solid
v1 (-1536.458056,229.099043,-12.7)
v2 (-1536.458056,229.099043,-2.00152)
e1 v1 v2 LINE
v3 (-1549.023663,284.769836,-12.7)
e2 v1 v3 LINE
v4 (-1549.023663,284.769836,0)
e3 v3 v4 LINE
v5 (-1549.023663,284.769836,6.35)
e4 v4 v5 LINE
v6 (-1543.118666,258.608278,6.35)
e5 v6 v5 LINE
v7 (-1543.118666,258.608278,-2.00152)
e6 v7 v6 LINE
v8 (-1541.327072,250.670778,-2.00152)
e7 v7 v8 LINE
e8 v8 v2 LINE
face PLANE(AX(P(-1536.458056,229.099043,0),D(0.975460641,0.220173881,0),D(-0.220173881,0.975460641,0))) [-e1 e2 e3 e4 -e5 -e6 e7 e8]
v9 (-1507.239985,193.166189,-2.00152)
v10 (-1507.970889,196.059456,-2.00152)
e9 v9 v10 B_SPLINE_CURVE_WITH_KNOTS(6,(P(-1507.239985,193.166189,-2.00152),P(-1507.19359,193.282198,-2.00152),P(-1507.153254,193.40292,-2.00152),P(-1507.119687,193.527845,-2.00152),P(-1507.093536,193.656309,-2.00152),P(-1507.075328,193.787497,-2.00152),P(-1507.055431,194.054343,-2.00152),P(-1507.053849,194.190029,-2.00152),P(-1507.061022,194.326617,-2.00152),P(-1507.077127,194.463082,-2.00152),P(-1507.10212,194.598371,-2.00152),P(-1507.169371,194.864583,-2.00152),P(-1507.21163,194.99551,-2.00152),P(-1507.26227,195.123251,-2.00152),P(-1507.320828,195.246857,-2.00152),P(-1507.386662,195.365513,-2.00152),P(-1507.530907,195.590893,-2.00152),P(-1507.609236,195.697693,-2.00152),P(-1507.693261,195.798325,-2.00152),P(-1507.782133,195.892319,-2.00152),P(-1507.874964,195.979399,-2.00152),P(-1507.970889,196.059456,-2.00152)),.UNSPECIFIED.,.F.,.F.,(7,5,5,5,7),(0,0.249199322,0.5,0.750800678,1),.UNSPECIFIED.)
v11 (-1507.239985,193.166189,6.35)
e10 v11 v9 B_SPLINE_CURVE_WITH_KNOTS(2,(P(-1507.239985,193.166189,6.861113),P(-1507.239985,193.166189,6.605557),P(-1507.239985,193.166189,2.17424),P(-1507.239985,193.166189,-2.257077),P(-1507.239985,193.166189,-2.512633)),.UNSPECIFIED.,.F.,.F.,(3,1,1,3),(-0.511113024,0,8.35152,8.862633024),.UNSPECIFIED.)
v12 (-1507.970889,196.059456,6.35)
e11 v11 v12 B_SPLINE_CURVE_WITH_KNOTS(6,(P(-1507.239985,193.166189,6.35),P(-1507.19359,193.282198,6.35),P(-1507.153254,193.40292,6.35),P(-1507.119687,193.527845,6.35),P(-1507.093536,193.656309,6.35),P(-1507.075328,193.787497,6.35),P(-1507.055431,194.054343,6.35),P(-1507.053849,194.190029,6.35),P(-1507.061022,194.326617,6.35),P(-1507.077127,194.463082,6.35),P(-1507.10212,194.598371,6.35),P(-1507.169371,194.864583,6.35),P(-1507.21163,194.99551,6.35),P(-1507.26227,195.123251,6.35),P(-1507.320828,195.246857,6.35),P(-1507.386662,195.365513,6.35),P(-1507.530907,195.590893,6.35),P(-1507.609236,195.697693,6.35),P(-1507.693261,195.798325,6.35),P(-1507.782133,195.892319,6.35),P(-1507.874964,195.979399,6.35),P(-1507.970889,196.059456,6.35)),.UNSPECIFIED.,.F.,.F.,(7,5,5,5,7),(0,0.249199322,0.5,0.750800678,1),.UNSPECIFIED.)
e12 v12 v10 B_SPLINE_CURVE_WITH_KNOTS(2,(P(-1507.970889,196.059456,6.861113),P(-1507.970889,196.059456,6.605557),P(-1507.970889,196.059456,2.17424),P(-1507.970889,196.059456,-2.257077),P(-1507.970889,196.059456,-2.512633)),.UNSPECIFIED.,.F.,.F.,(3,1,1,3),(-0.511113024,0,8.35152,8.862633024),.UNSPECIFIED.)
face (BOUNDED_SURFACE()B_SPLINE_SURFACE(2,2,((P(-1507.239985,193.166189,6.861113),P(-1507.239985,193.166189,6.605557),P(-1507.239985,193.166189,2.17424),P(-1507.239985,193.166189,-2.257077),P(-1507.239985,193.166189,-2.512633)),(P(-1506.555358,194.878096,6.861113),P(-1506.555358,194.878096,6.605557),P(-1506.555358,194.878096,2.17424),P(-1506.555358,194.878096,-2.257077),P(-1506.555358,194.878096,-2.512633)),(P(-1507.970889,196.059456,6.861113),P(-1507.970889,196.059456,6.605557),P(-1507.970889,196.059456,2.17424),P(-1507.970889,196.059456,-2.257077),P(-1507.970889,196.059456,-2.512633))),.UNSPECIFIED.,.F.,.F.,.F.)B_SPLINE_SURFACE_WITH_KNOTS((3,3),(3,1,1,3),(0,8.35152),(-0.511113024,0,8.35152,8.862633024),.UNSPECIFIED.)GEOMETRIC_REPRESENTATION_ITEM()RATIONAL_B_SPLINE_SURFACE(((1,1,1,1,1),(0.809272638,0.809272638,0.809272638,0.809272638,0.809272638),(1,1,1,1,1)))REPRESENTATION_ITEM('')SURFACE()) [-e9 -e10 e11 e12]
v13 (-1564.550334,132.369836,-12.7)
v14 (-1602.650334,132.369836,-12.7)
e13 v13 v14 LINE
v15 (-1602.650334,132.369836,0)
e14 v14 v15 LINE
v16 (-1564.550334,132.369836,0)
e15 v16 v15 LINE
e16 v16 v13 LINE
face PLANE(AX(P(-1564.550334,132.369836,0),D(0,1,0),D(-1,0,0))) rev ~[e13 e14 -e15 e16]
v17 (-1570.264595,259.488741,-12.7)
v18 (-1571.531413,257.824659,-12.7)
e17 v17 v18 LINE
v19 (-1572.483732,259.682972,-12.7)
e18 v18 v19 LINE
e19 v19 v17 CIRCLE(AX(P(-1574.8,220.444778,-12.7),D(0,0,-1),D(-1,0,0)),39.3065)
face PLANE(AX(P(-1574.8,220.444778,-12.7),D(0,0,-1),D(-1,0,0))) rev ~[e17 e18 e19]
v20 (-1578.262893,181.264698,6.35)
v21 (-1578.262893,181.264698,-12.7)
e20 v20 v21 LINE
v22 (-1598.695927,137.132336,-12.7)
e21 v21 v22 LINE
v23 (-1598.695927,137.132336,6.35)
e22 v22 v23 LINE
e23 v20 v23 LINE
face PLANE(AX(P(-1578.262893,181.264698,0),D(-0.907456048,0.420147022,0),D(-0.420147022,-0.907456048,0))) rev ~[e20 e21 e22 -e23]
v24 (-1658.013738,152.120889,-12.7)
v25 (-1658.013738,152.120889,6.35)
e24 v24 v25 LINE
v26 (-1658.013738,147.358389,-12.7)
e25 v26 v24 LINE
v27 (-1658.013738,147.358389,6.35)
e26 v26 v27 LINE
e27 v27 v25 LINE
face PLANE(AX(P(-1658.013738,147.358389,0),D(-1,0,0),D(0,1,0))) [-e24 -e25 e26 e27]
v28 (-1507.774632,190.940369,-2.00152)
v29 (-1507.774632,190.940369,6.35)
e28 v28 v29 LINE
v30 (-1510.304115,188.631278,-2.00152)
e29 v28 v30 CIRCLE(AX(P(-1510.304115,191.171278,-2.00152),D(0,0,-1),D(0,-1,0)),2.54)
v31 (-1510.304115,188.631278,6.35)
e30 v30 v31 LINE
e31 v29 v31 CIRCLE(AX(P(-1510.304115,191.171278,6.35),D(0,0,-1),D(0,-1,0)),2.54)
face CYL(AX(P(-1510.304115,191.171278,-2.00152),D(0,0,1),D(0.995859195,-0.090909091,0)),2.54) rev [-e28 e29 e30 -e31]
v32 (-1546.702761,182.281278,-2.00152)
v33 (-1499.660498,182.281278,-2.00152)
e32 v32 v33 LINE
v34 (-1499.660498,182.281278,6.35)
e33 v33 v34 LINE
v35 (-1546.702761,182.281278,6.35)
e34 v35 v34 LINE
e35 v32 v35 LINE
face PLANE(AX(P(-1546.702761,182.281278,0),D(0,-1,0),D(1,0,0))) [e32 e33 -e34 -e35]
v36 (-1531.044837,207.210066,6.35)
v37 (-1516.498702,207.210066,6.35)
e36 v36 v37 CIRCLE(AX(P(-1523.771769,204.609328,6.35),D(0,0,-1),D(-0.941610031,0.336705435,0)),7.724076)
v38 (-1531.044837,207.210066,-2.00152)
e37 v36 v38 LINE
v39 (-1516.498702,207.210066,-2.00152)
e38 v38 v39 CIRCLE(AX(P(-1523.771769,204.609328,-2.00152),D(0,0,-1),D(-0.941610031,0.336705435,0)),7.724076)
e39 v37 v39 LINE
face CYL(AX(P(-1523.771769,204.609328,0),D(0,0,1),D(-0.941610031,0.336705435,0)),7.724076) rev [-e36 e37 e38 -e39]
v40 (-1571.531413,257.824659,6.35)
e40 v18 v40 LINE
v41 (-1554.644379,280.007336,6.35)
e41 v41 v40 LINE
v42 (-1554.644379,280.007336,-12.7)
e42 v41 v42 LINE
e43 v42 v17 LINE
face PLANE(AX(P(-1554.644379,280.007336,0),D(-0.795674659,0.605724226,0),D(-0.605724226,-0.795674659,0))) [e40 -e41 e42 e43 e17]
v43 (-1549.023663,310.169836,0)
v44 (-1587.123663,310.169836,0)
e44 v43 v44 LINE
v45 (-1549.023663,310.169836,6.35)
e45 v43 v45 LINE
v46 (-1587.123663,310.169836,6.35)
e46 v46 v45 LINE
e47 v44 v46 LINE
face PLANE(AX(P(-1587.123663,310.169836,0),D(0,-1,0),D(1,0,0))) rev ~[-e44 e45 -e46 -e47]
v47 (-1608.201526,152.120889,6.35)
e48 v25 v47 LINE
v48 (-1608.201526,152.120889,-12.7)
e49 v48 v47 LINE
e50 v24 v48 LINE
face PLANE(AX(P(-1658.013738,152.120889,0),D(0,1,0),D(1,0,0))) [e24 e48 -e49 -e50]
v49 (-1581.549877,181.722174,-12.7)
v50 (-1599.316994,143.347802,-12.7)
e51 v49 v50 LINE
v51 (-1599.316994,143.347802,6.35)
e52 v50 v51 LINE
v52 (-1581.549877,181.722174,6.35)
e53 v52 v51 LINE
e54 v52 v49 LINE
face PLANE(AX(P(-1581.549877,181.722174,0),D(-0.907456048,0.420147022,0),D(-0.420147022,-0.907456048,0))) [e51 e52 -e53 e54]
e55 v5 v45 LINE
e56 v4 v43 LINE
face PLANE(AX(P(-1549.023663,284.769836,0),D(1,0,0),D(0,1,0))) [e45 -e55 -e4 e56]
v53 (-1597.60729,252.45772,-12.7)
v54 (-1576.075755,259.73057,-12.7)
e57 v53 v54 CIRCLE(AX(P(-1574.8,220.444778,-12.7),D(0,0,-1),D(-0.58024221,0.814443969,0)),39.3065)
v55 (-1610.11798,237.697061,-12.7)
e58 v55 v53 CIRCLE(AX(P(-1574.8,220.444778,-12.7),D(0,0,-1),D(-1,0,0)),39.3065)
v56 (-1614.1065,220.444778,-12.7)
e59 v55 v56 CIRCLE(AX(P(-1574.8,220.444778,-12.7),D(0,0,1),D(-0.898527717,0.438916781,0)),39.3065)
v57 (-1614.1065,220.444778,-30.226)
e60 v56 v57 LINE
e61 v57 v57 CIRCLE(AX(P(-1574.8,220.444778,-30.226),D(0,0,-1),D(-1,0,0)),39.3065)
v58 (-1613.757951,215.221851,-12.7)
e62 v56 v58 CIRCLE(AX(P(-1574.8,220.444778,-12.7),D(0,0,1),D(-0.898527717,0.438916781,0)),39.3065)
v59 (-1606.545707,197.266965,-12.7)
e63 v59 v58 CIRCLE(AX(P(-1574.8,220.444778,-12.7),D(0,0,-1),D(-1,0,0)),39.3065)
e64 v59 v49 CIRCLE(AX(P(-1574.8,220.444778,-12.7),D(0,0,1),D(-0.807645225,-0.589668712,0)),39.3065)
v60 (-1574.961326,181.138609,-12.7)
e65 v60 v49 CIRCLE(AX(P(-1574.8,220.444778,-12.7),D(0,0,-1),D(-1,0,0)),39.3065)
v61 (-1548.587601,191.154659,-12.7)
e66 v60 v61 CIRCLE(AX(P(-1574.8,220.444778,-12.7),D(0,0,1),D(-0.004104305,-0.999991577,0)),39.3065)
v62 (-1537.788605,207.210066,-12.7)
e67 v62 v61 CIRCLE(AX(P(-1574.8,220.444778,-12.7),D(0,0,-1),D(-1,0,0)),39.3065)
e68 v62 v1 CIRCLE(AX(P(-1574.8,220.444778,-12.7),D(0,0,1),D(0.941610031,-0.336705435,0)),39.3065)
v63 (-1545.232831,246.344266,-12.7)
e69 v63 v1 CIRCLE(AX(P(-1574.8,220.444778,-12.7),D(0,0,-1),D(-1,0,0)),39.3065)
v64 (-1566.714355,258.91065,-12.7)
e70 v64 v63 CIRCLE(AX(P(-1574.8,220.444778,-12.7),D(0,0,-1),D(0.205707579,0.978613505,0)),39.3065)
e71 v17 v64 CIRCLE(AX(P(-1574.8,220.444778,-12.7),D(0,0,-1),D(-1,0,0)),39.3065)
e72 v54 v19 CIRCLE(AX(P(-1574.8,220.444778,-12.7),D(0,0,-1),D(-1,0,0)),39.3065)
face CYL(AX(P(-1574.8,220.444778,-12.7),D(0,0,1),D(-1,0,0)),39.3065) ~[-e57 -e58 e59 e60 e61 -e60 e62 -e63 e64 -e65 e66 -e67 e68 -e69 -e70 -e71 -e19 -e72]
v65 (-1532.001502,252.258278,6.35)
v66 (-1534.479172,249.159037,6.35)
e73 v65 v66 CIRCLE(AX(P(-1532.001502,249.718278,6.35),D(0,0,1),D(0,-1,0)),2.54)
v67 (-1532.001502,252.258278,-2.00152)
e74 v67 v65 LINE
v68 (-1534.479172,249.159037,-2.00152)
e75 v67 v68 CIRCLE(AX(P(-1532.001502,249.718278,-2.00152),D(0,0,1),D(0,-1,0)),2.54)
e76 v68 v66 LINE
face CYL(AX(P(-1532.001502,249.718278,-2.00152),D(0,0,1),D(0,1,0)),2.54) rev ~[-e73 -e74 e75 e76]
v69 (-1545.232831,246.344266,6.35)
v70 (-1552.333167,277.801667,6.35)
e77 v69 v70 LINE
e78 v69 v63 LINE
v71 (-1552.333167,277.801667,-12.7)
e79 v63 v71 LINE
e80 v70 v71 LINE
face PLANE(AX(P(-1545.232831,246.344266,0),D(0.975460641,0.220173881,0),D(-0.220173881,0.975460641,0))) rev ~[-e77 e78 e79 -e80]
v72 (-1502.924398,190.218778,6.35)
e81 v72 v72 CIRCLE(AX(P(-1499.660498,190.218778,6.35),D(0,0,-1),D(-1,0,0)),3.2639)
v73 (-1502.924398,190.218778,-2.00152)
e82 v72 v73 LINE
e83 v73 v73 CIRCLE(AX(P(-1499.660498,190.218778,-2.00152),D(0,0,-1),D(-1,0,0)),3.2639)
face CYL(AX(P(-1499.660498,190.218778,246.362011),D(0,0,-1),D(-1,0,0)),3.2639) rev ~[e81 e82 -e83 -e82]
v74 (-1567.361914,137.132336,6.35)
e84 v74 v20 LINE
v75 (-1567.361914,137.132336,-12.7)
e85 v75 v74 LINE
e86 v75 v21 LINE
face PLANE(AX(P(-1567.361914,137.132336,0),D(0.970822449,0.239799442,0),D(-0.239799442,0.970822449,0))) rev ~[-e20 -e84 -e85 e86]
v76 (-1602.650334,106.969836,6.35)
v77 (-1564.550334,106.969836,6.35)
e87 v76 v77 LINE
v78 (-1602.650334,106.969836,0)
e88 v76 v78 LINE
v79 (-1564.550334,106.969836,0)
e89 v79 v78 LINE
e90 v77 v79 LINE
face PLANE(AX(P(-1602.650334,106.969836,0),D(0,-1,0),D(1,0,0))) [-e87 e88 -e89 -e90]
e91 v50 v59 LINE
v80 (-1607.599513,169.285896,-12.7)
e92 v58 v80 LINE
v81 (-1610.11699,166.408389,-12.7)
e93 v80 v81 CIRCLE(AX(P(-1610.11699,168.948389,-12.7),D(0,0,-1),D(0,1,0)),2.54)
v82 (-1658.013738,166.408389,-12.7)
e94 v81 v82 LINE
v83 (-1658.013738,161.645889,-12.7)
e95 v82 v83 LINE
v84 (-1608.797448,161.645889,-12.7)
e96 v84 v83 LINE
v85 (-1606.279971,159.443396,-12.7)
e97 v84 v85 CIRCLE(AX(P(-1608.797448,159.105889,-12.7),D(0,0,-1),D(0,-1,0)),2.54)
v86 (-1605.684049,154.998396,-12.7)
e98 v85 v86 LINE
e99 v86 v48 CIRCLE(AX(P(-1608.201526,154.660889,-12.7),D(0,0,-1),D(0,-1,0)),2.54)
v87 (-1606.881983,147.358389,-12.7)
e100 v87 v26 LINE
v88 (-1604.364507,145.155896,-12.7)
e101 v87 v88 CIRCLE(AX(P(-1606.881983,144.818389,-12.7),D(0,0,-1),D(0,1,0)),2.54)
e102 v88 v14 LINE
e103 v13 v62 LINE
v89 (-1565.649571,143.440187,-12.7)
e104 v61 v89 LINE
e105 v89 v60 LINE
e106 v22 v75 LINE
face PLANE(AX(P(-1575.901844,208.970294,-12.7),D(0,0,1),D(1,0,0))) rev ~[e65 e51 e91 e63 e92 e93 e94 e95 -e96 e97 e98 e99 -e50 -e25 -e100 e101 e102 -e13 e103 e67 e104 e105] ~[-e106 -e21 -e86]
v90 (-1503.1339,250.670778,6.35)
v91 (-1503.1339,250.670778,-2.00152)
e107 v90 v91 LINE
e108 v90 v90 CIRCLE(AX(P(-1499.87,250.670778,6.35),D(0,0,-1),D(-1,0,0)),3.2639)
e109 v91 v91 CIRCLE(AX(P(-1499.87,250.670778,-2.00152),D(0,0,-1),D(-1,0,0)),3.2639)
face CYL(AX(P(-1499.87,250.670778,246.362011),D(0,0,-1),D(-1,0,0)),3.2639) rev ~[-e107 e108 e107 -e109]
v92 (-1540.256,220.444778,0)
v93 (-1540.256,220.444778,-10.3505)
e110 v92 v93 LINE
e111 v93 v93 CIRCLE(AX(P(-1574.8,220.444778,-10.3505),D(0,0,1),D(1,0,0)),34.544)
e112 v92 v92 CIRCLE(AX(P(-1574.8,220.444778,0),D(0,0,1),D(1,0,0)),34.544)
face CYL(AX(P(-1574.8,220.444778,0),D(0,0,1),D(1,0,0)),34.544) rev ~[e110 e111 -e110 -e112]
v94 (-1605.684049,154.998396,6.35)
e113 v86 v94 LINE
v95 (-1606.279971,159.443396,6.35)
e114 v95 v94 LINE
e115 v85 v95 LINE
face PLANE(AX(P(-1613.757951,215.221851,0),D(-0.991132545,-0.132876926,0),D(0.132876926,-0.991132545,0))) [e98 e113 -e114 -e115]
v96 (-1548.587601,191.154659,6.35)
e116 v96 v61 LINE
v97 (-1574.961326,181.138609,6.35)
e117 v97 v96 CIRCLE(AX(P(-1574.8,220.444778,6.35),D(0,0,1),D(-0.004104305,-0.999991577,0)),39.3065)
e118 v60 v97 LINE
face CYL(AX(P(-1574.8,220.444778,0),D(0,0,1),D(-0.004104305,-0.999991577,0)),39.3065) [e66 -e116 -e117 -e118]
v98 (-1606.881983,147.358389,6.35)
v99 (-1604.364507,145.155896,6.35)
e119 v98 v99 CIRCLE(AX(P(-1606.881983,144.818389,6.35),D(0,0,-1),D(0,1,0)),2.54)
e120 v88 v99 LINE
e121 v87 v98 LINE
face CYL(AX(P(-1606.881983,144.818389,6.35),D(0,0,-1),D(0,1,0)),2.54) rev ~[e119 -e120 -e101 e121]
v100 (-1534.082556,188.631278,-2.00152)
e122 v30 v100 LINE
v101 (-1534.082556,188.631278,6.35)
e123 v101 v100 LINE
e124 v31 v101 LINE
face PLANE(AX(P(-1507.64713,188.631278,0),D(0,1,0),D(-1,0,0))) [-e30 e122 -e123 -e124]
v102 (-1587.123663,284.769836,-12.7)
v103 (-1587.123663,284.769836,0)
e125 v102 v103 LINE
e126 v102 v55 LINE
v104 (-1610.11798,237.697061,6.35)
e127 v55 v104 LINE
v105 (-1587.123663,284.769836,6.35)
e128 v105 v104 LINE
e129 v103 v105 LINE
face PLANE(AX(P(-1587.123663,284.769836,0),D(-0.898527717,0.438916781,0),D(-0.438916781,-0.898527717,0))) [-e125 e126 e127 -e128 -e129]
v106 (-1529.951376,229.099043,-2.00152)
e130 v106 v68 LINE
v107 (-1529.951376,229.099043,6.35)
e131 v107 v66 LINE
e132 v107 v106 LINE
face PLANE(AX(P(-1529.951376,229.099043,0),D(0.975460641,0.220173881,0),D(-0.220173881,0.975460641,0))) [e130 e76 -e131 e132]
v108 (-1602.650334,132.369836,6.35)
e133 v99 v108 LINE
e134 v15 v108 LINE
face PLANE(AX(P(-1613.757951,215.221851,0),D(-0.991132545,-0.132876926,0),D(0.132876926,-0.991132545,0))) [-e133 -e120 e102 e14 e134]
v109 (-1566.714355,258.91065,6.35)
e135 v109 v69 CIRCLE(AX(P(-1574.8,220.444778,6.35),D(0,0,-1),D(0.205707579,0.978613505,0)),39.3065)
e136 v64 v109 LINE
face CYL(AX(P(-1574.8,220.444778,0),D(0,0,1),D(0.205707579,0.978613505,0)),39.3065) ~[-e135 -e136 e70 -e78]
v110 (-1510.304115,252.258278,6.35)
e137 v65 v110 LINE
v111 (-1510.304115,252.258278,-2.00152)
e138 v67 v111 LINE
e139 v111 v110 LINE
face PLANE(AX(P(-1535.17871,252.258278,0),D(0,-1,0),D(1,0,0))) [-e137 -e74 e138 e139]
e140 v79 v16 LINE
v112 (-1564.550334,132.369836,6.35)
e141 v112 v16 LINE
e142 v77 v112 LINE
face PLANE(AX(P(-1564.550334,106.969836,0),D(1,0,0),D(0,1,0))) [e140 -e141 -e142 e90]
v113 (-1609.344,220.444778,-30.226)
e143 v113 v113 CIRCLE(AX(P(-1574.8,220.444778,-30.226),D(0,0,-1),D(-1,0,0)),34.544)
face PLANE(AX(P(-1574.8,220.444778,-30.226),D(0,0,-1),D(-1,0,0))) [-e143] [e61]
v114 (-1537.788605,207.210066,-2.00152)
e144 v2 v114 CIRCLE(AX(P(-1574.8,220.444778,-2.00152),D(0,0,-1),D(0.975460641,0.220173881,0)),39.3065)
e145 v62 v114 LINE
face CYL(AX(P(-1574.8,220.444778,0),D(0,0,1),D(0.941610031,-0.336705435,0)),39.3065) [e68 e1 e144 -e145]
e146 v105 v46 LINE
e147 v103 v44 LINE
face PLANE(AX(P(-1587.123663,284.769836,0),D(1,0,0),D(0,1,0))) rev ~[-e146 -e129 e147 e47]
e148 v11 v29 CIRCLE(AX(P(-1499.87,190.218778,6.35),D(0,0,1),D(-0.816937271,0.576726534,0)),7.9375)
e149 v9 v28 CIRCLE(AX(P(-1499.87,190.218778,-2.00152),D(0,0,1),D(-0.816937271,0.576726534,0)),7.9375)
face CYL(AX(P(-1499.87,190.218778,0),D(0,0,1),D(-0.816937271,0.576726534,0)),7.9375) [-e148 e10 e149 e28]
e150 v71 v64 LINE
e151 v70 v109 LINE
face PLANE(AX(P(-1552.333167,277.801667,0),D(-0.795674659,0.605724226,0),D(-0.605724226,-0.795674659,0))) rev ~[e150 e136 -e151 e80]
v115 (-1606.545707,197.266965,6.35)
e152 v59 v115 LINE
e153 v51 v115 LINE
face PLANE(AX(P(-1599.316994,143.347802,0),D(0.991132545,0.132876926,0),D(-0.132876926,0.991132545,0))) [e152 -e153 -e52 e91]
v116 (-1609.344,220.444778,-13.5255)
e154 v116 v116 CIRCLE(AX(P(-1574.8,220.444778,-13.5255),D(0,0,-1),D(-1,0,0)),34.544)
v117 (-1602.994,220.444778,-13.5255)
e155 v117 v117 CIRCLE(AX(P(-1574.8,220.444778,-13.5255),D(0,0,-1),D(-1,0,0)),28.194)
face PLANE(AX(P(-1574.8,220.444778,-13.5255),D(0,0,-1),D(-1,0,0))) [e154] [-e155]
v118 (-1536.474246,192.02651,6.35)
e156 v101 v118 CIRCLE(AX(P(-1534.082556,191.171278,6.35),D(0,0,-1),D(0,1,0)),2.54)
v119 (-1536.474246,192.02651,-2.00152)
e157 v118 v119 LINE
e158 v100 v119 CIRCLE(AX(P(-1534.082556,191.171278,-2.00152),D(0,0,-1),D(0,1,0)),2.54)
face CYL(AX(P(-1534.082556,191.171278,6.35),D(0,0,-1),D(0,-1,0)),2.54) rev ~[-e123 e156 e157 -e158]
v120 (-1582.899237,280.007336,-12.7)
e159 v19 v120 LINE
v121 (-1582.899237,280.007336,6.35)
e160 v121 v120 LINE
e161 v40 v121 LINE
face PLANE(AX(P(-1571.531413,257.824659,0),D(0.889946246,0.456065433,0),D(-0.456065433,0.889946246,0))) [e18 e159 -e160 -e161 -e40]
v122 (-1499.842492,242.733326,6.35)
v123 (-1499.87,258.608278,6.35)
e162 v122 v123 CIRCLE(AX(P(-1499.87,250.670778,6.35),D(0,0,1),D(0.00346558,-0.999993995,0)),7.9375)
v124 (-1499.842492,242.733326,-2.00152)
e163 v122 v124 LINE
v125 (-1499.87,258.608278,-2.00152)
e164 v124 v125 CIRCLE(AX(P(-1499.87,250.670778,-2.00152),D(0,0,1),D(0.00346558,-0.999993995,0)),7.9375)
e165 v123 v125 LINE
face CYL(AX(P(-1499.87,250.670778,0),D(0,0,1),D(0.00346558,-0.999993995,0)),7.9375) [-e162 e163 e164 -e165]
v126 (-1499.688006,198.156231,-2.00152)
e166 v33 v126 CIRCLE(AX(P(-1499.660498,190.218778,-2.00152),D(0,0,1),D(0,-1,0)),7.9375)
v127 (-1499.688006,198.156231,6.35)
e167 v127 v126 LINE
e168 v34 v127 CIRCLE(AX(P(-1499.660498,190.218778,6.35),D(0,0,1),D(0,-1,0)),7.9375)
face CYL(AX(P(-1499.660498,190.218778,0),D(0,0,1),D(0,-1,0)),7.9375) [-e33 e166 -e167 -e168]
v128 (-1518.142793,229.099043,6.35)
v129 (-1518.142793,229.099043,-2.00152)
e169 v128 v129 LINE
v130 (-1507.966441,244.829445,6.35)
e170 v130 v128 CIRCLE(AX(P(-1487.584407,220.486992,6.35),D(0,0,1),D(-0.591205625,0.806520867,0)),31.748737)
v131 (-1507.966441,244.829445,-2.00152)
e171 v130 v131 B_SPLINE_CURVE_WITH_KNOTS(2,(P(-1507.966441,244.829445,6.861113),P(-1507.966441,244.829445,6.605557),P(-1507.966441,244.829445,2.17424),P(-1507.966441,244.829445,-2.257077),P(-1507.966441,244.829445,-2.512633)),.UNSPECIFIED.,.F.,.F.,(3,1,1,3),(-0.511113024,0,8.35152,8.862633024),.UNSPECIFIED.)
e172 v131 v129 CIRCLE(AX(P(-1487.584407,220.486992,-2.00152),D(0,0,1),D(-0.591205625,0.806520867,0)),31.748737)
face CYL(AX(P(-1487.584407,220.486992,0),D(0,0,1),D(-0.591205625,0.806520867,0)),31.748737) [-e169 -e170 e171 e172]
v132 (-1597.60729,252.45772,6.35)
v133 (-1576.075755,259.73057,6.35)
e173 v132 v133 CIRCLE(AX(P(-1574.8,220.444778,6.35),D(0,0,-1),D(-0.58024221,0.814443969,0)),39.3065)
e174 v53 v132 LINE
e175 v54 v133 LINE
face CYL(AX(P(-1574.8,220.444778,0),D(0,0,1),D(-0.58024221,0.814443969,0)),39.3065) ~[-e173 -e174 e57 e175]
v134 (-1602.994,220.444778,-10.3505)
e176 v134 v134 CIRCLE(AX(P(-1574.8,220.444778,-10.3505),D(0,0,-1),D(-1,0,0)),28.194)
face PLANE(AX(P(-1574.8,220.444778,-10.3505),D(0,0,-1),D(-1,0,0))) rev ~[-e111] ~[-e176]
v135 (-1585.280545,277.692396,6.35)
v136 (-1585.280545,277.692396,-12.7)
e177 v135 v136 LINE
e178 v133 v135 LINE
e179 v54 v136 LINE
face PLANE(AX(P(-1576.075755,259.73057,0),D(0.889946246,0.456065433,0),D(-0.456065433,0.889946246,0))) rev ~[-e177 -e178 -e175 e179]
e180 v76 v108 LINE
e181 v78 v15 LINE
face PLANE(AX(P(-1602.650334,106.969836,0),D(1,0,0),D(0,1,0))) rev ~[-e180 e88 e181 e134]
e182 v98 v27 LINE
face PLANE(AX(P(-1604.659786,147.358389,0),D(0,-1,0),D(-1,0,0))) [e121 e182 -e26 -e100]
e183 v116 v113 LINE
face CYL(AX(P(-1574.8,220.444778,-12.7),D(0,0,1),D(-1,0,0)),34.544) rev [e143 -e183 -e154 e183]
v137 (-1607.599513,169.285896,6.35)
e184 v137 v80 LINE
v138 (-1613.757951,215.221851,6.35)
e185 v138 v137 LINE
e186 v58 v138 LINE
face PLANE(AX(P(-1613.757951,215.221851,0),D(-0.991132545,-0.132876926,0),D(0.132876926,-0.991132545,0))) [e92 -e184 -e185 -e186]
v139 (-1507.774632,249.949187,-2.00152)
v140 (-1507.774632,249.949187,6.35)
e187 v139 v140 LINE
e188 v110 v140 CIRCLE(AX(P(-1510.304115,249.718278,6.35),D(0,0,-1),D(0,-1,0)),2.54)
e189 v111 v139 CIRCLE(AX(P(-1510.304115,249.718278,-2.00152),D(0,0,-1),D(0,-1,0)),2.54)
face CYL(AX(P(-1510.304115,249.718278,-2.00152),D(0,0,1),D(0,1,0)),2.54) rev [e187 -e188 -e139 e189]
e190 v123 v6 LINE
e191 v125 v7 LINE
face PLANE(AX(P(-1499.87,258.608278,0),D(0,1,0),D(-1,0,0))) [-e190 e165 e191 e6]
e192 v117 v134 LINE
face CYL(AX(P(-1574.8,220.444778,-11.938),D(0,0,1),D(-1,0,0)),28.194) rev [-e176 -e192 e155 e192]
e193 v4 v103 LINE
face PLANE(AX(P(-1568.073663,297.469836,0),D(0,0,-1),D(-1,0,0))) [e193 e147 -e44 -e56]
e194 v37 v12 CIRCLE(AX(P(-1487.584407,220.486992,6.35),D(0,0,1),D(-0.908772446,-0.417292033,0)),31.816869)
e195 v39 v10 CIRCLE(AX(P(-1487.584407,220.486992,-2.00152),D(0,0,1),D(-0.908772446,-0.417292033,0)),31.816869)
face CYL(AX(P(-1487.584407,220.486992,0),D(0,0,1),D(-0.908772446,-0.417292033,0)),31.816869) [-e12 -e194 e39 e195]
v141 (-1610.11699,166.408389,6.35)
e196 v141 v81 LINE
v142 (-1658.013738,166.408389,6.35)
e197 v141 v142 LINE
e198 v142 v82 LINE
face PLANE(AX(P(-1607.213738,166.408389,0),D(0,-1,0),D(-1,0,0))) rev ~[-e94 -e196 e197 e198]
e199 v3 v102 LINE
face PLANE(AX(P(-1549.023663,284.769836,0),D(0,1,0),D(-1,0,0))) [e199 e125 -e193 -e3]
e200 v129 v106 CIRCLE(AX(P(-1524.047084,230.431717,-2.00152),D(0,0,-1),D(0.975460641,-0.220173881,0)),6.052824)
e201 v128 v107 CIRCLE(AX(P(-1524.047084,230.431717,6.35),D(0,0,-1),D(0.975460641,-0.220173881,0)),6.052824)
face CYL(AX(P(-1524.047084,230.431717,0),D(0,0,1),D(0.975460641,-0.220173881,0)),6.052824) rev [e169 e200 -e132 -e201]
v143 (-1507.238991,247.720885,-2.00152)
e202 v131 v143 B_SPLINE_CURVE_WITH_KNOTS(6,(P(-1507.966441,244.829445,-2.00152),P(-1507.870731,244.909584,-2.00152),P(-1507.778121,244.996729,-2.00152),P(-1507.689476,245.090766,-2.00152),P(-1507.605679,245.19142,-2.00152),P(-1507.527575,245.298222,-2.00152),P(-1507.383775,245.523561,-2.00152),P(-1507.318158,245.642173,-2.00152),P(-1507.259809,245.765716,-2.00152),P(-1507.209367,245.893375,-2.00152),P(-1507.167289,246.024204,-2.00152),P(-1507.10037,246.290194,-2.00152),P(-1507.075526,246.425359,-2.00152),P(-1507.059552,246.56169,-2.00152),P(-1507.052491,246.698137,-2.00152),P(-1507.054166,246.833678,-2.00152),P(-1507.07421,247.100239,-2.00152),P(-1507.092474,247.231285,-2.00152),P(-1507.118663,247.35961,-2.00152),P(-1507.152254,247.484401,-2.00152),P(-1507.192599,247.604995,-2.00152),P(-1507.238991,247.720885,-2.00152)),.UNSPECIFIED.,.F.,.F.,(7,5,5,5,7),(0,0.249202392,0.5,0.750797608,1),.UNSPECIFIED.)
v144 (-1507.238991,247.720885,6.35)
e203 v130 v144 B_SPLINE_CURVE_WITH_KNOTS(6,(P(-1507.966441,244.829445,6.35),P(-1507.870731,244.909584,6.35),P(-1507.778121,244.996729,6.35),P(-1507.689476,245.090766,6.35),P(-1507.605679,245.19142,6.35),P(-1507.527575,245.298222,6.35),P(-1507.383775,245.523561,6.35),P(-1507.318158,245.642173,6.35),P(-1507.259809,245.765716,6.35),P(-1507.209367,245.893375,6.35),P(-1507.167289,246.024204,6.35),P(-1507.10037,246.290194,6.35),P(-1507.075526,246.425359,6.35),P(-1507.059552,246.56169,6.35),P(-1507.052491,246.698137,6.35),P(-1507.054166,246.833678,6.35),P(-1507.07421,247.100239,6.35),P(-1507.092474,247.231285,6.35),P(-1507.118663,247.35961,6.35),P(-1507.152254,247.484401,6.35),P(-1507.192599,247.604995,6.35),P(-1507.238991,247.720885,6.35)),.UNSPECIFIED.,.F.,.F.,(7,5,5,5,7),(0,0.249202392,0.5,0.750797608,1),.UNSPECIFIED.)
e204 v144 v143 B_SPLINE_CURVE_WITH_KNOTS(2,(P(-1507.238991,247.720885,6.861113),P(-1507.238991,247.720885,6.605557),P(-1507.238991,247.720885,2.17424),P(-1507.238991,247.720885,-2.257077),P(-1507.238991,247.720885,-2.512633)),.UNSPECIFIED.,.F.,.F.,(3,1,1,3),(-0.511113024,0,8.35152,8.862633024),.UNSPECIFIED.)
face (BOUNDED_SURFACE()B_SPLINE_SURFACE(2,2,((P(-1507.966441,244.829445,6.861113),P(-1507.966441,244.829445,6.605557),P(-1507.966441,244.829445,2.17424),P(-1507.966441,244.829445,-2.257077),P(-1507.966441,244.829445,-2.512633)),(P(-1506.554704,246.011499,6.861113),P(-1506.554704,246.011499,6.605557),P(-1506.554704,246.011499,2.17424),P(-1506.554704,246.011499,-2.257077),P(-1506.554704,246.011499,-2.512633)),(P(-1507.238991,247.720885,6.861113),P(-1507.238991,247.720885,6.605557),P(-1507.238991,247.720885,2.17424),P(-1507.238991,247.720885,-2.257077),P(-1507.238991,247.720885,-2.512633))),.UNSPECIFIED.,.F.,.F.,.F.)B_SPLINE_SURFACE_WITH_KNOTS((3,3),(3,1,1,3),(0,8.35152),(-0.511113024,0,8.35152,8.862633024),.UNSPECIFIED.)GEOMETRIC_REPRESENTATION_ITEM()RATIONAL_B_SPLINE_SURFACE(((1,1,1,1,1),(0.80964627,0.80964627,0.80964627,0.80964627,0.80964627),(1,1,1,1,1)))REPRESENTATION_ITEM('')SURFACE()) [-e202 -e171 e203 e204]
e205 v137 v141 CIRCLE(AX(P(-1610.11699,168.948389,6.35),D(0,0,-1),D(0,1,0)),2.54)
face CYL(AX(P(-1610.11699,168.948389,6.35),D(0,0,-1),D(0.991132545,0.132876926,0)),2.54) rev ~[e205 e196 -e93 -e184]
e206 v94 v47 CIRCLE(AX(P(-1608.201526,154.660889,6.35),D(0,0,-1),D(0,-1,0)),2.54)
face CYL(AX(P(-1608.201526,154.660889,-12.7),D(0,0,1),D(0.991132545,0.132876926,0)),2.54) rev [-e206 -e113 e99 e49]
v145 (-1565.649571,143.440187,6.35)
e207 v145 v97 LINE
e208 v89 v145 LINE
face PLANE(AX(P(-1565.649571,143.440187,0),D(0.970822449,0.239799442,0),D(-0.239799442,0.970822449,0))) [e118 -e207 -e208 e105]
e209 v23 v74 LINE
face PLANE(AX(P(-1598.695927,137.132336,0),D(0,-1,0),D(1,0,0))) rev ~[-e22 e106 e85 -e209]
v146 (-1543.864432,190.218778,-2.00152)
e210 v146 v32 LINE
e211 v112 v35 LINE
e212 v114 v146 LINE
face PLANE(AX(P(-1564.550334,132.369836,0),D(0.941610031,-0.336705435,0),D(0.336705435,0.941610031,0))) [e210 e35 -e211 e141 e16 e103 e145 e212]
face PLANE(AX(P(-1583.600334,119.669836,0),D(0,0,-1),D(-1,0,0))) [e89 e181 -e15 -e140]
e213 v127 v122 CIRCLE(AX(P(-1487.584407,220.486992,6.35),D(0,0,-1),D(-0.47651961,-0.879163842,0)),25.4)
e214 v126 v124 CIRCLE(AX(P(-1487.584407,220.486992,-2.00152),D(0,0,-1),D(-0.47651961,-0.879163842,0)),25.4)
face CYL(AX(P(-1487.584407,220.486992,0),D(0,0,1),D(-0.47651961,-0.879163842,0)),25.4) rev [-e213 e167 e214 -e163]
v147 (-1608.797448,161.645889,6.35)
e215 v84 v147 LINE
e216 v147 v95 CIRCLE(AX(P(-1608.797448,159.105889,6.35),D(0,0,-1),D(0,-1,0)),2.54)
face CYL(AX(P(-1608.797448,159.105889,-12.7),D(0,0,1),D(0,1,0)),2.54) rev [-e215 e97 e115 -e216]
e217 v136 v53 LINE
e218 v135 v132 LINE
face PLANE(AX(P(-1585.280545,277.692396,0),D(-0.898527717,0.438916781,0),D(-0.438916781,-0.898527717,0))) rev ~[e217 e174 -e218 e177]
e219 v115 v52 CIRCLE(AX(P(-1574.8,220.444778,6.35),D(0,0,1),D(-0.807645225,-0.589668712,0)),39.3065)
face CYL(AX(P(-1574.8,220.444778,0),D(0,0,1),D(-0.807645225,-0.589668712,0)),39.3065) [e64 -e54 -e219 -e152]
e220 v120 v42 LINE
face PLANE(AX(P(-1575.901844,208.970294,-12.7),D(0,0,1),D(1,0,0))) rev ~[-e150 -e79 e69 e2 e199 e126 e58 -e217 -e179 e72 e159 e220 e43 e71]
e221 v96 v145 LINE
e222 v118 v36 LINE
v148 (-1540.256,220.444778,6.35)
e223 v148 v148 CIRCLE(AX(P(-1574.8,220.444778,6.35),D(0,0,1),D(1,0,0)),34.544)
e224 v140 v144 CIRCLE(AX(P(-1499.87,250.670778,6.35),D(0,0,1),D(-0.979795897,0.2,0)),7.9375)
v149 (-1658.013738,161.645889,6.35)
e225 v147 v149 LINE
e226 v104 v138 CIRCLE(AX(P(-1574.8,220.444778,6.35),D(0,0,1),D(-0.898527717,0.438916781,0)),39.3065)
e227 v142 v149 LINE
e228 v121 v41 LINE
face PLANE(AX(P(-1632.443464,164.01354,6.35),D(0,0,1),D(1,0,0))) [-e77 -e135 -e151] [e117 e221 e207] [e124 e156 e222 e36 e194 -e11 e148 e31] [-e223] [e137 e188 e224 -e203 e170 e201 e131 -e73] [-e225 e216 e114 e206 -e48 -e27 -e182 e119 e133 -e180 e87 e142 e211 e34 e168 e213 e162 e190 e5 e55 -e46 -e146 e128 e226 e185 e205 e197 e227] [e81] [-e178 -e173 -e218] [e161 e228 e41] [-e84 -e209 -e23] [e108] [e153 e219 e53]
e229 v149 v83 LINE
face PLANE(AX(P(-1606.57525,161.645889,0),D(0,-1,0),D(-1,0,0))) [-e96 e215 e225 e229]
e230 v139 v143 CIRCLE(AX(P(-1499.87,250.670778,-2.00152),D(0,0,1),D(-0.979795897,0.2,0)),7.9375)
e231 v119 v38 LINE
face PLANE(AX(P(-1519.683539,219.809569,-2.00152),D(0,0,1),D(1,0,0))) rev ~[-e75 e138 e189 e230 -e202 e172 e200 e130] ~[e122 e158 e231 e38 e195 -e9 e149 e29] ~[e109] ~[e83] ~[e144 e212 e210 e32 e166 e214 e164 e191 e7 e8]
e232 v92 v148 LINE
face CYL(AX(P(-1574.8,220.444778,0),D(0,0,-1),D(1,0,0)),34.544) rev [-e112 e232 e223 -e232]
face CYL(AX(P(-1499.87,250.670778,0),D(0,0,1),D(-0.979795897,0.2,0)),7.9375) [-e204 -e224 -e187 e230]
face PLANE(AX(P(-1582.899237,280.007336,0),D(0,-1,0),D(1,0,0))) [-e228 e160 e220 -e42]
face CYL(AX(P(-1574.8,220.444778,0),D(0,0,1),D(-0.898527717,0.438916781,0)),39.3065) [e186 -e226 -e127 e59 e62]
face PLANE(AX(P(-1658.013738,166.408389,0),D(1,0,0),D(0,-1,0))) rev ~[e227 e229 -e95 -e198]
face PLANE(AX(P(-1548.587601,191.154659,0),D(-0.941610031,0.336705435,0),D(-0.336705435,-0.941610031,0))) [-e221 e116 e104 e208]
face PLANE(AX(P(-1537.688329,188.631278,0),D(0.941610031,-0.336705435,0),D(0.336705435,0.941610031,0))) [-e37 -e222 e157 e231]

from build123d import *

# Parameters (mm, degrees)
SKETCH1_R                 = 34.544
SKETCH1_W                 = 38.1
SKETCH1_H                 = 25.4
BOSS_EXTRUDE1_DEPTH       = 6.35
BOSS_EXTRUDE1_DEPTH_BACK  = 12.7
CUT_EXTRUDE1_START        = -12.7
SKETCH2_W                 = 38.1
SKETCH2_H                 = 25.4
CUT_EXTRUDE1_DEPTH        = 12.7
SKETCH3_R                 = 39.3065
SKETCH3_R_2               = 34.544
BOSS_EXTRUDE3_DEPTH       = 17.526
SKETCH4_R                 = 34.544
SKETCH4_R_2               = 28.194
BOSS_EXTRUDE4_DEPTH       = 1.5875
BOSS_EXTRUDE10_DEPTH      = 6.35
BOSS_EXTRUDE10_DEPTH_BACK = 2.00152
F_5_16_18_TAPPED_HOLE6_D  = 6.5278
FILLET5_R                 = 2.54
FILLET6_R                 = 2.54
BOSS_EXTRUDE9_DEPTH       = 12.7
BOSS_EXTRUDE9_DEPTH_BACK  = 6.35
FILLET4_R                 = 2.54


with BuildPart() as part:
    # Sketch1 → Boss-Extrude1 (new body, two sides)
    with BuildSketch(Plane.XY) as boss_extrude1_sk:
        with BuildLine():
            Line((-1564.55033403, 132.369836169), (-1537.788605326, 207.210066144))
            ThreePointArc((-1537.788605326, 207.210066144), (-1535.565917531, 218.059885236), (-1536.458056316, 229.099042982))
            Line((-1536.458056316, 229.099042982), (-1549.023662845, 284.769836169))
            Line((-1549.023662845, 284.769836169), (-1587.123662845, 284.769836169))
            Line((-1587.123662845, 284.769836169), (-1610.117979725, 237.697060793))
            ThreePointArc((-1610.117979725, 237.697060793), (-1613.600930979, 226.72878162), (-1613.757951397, 215.221851446))
            Line((-1613.757951397, 215.221851446), (-1602.65033403, 132.369836169))
            Line((-1602.65033403, 132.369836169), (-1564.55033403, 132.369836169))
        make_face()
        with Locations((-1574.8, 220.444778325)):
            Circle(SKETCH1_R, mode=Mode.SUBTRACT)
        with BuildLine():
            Line((-1565.649571077, 143.440187232), (-1574.961325855, 181.138609391))
            ThreePointArc((-1574.961325855, 181.138609391), (-1560.844896551, 183.698948221), (-1548.587601226, 191.154658954))
            Line((-1548.587601226, 191.154658954), (-1565.649571077, 143.440187232))
        make_face(mode=Mode.SUBTRACT)
        with BuildLine():
            Line((-1599.316994088, 143.347801615), (-1606.545707049, 197.266965093))
            ThreePointArc((-1606.545707049, 197.266965093), (-1595.557832884, 187.066442294), (-1581.549876664, 181.722173721))
            Line((-1581.549876664, 181.722173721), (-1599.316994088, 143.347801615))
        make_face(mode=Mode.SUBTRACT)
        Polygon((-1582.899237332, 280.007336169), (-1554.644379273, 280.007336169), (-1571.531413288, 257.824658876), align=None, mode=Mode.SUBTRACT)
        Polygon((-1567.361913884, 137.132336169), (-1578.262893423, 181.264697727), (-1598.695927423, 137.132336169), align=None, mode=Mode.SUBTRACT)
        with BuildLine():
            Line((-1545.232831462, 246.344266484), (-1552.333167166, 277.801667254))
            Line((-1552.333167166, 277.801667254), (-1566.714355054, 258.910650056))
            ThreePointArc((-1566.714355054, 258.910650056), (-1554.952781307, 254.372478695), (-1545.232831462, 246.344266484))
        make_face(mode=Mode.SUBTRACT)
        with BuildLine():
            Line((-1576.07575514, 259.730569536), (-1585.280544841, 277.692395712))
            Line((-1585.280544841, 277.692395712), (-1597.607290416, 252.457720179))
            ThreePointArc((-1597.607290416, 252.457720179), (-1587.378626922, 257.684261229), (-1576.07575514, 259.730569536))
        make_face(mode=Mode.SUBTRACT)
        with Locations((-1568.073662845, 297.469836169)):
            Rectangle(SKETCH1_W, SKETCH1_H)
        with Locations((-1583.60033403, 119.669836169)):
            Rectangle(SKETCH1_W, SKETCH1_H)
    extrude(amount=BOSS_EXTRUDE1_DEPTH)
    extrude(boss_extrude1_sk.sketch, amount=-BOSS_EXTRUDE1_DEPTH_BACK)

    # Sketch2 → Cut-Extrude1 (cut)
    with BuildSketch(Plane(origin=(0, 0, -12.7), x_dir=(-1, 0, 0), z_dir=(0, 0, -1)).offset(CUT_EXTRUDE1_START)):
        with Locations((1568.073662845, 297.469836169)):
            Rectangle(SKETCH2_W, SKETCH2_H)
        with Locations((1583.60033403, 119.669836169)):
            Rectangle(SKETCH2_W, SKETCH2_H)
    extrude(amount=CUT_EXTRUDE1_DEPTH, mode=Mode.SUBTRACT)

    # Sketch3 → Boss-Extrude3 (add)
    with BuildSketch(Plane(origin=(0, 0, -12.7), x_dir=(-1, 0, 0), z_dir=(0, 0, -1))):
        with Locations((1574.8, 220.444778325)):
            Circle(SKETCH3_R)
        with Locations((1574.8, 220.444778325)):
            Circle(SKETCH3_R_2, mode=Mode.SUBTRACT)
    extrude(amount=BOSS_EXTRUDE3_DEPTH)

    # Sketch4 → Boss-Extrude4 (add, symmetric)
    with BuildSketch(Plane(origin=(0, 0, -11.938), x_dir=(-1, 0, 0), z_dir=(0, 0, -1))):
        with Locations((1574.8, 220.444778325)):
            Circle(SKETCH4_R)
        with Locations((1574.8, 220.444778325)):
            Circle(SKETCH4_R_2, mode=Mode.SUBTRACT)
    extrude(amount=BOSS_EXTRUDE4_DEPTH, both=True)

    # Sketch50 → Boss-Extrude10 (add, two sides)
    with BuildSketch(Plane.XY) as boss_extrude10_sk:
        with BuildLine():
            Line((-1541.32707152, 250.670778325), (-1536.458056316, 229.099042982))
            ThreePointArc((-1536.458056316, 229.099042982), (-1535.565917531, 218.059885236), (-1537.788605326, 207.210066144))
            Line((-1537.788605326, 207.210066144), (-1543.86443159, 190.218778325))
            Line((-1543.86443159, 190.218778325), (-1546.702760944, 182.281278325))
            Line((-1546.702760944, 182.281278325), (-1499.66049752, 182.281278325))
            ThreePointArc((-1499.66049752, 182.281278325), (-1491.723009436, 190.232532365), (-1499.688005558, 198.156230659))
            ThreePointArc((-1499.688005558, 198.156230659), (-1512.984254944, 220.398966531), (-1499.842491961, 242.733325991))
            ThreePointArc((-1499.842491961, 242.733325991), (-1491.932511916, 250.684532365), (-1499.87, 258.608278325))
            Line((-1499.87, 258.608278325), (-1543.118666289, 258.608278325))
            Line((-1543.118666289, 258.608278325), (-1541.32707152, 250.670778325))
        make_face()
        with BuildLine():
            Line((-1535.178710458, 252.258278325), (-1507.647129933, 252.258278325))
            ThreePointArc((-1507.647129933, 252.258278325), (-1507.638572597, 249.041917968), (-1506.354439589, 246.09301146))
            ThreePointArc((-1506.354439589, 246.09301146), (-1513.671222734, 238.58285904), (-1518.142792697, 229.099042982))
            ThreePointArc((-1518.142792697, 229.099042982), (-1524.047084498, 224.378892556), (-1529.9513763, 229.099042982))
            Line((-1529.9513763, 229.099042982), (-1535.178710458, 252.258278325))
        make_face(mode=Mode.SUBTRACT)
        with BuildLine():
            Line((-1507.647129933, 188.631278325), (-1537.68832903, 188.631278325))
            Line((-1537.68832903, 188.631278325), (-1531.044836894, 207.210066144))
            ThreePointArc((-1531.044836894, 207.210066144), (-1523.771769284, 212.333403895), (-1516.498701674, 207.210066144))
            ThreePointArc((-1516.498701674, 207.210066144), (-1512.22122179, 200.353921044), (-1506.354439589, 194.79654519))
            ThreePointArc((-1506.354439589, 194.79654519), (-1507.638572597, 191.847638682), (-1507.647129933, 188.631278325))
        make_face(mode=Mode.SUBTRACT)
    extrude(amount=BOSS_EXTRUDE10_DEPTH)
    extrude(boss_extrude10_sk.sketch, amount=-BOSS_EXTRUDE10_DEPTH_BACK)

    # 5/16-18 Tapped Hole6 (through all)
    with Locations(Plane.XY.offset(6.35)):
        with Locations((-1499.87, 250.670778325), (-1499.66049752, 190.218778325)):
            Hole(F_5_16_18_TAPPED_HOLE6_D / 2)

    # Fillet5
    fillet5_edges = [part.edges().sort_by_distance(p)[0] for p in [
        (-1506.354439589, 246.09301146, 2.17424),
        (-1507.647129933, 252.258278325, 2.17424),
        (-1506.354439589, 194.79654519, 2.17424),
        (-1507.647129933, 188.631278325, 2.17424),
    ]]
    fillet(fillet5_edges, radius=FILLET5_R)

    # Fillet6
    fillet6_edges = [part.edges().sort_by_distance(p)[0] for p in [
        (-1535.178710458, 252.258278325, 2.17424),
        (-1537.68832903, 188.631278325, 2.17424),
    ]]
    fillet(fillet6_edges, radius=FILLET6_R)

    # rod connection → Boss-Extrude9 (add, two sides)
    with BuildSketch(Plane(origin=(0, 0, 0), x_dir=(-1, 0, 0), z_dir=(0, 0, -1))) as boss_extrude9_sk:
        Polygon((1647.10033403, 161.645888869), (1606.575249921, 161.645888869), (1607.213738044, 166.408388869), (1658.013738044, 166.408388869), (1658.013738044, 161.645888869), align=None)
        Polygon((1647.10033403, 152.120888869), (1605.298273676, 152.120888869), (1604.659785553, 147.358388869), (1658.013738044, 147.358388869), (1658.013738044, 152.120888869), align=None)
    extrude(amount=BOSS_EXTRUDE9_DEPTH)
    extrude(boss_extrude9_sk.sketch, amount=-BOSS_EXTRUDE9_DEPTH_BACK)

    # Fillet4
    fillet4_edges = [part.edges().sort_by_distance(p)[0] for p in [
        (-1605.298273676, 152.120888869, -3.175),
        (-1604.659785553, 147.358388869, -3.175),
        (-1607.213738044, 166.408388869, -3.175),
        (-1606.575249921, 161.645888869, -3.175),
    ]]
    fillet(fillet4_edges, radius=FILLET4_R)


solid = part.part
